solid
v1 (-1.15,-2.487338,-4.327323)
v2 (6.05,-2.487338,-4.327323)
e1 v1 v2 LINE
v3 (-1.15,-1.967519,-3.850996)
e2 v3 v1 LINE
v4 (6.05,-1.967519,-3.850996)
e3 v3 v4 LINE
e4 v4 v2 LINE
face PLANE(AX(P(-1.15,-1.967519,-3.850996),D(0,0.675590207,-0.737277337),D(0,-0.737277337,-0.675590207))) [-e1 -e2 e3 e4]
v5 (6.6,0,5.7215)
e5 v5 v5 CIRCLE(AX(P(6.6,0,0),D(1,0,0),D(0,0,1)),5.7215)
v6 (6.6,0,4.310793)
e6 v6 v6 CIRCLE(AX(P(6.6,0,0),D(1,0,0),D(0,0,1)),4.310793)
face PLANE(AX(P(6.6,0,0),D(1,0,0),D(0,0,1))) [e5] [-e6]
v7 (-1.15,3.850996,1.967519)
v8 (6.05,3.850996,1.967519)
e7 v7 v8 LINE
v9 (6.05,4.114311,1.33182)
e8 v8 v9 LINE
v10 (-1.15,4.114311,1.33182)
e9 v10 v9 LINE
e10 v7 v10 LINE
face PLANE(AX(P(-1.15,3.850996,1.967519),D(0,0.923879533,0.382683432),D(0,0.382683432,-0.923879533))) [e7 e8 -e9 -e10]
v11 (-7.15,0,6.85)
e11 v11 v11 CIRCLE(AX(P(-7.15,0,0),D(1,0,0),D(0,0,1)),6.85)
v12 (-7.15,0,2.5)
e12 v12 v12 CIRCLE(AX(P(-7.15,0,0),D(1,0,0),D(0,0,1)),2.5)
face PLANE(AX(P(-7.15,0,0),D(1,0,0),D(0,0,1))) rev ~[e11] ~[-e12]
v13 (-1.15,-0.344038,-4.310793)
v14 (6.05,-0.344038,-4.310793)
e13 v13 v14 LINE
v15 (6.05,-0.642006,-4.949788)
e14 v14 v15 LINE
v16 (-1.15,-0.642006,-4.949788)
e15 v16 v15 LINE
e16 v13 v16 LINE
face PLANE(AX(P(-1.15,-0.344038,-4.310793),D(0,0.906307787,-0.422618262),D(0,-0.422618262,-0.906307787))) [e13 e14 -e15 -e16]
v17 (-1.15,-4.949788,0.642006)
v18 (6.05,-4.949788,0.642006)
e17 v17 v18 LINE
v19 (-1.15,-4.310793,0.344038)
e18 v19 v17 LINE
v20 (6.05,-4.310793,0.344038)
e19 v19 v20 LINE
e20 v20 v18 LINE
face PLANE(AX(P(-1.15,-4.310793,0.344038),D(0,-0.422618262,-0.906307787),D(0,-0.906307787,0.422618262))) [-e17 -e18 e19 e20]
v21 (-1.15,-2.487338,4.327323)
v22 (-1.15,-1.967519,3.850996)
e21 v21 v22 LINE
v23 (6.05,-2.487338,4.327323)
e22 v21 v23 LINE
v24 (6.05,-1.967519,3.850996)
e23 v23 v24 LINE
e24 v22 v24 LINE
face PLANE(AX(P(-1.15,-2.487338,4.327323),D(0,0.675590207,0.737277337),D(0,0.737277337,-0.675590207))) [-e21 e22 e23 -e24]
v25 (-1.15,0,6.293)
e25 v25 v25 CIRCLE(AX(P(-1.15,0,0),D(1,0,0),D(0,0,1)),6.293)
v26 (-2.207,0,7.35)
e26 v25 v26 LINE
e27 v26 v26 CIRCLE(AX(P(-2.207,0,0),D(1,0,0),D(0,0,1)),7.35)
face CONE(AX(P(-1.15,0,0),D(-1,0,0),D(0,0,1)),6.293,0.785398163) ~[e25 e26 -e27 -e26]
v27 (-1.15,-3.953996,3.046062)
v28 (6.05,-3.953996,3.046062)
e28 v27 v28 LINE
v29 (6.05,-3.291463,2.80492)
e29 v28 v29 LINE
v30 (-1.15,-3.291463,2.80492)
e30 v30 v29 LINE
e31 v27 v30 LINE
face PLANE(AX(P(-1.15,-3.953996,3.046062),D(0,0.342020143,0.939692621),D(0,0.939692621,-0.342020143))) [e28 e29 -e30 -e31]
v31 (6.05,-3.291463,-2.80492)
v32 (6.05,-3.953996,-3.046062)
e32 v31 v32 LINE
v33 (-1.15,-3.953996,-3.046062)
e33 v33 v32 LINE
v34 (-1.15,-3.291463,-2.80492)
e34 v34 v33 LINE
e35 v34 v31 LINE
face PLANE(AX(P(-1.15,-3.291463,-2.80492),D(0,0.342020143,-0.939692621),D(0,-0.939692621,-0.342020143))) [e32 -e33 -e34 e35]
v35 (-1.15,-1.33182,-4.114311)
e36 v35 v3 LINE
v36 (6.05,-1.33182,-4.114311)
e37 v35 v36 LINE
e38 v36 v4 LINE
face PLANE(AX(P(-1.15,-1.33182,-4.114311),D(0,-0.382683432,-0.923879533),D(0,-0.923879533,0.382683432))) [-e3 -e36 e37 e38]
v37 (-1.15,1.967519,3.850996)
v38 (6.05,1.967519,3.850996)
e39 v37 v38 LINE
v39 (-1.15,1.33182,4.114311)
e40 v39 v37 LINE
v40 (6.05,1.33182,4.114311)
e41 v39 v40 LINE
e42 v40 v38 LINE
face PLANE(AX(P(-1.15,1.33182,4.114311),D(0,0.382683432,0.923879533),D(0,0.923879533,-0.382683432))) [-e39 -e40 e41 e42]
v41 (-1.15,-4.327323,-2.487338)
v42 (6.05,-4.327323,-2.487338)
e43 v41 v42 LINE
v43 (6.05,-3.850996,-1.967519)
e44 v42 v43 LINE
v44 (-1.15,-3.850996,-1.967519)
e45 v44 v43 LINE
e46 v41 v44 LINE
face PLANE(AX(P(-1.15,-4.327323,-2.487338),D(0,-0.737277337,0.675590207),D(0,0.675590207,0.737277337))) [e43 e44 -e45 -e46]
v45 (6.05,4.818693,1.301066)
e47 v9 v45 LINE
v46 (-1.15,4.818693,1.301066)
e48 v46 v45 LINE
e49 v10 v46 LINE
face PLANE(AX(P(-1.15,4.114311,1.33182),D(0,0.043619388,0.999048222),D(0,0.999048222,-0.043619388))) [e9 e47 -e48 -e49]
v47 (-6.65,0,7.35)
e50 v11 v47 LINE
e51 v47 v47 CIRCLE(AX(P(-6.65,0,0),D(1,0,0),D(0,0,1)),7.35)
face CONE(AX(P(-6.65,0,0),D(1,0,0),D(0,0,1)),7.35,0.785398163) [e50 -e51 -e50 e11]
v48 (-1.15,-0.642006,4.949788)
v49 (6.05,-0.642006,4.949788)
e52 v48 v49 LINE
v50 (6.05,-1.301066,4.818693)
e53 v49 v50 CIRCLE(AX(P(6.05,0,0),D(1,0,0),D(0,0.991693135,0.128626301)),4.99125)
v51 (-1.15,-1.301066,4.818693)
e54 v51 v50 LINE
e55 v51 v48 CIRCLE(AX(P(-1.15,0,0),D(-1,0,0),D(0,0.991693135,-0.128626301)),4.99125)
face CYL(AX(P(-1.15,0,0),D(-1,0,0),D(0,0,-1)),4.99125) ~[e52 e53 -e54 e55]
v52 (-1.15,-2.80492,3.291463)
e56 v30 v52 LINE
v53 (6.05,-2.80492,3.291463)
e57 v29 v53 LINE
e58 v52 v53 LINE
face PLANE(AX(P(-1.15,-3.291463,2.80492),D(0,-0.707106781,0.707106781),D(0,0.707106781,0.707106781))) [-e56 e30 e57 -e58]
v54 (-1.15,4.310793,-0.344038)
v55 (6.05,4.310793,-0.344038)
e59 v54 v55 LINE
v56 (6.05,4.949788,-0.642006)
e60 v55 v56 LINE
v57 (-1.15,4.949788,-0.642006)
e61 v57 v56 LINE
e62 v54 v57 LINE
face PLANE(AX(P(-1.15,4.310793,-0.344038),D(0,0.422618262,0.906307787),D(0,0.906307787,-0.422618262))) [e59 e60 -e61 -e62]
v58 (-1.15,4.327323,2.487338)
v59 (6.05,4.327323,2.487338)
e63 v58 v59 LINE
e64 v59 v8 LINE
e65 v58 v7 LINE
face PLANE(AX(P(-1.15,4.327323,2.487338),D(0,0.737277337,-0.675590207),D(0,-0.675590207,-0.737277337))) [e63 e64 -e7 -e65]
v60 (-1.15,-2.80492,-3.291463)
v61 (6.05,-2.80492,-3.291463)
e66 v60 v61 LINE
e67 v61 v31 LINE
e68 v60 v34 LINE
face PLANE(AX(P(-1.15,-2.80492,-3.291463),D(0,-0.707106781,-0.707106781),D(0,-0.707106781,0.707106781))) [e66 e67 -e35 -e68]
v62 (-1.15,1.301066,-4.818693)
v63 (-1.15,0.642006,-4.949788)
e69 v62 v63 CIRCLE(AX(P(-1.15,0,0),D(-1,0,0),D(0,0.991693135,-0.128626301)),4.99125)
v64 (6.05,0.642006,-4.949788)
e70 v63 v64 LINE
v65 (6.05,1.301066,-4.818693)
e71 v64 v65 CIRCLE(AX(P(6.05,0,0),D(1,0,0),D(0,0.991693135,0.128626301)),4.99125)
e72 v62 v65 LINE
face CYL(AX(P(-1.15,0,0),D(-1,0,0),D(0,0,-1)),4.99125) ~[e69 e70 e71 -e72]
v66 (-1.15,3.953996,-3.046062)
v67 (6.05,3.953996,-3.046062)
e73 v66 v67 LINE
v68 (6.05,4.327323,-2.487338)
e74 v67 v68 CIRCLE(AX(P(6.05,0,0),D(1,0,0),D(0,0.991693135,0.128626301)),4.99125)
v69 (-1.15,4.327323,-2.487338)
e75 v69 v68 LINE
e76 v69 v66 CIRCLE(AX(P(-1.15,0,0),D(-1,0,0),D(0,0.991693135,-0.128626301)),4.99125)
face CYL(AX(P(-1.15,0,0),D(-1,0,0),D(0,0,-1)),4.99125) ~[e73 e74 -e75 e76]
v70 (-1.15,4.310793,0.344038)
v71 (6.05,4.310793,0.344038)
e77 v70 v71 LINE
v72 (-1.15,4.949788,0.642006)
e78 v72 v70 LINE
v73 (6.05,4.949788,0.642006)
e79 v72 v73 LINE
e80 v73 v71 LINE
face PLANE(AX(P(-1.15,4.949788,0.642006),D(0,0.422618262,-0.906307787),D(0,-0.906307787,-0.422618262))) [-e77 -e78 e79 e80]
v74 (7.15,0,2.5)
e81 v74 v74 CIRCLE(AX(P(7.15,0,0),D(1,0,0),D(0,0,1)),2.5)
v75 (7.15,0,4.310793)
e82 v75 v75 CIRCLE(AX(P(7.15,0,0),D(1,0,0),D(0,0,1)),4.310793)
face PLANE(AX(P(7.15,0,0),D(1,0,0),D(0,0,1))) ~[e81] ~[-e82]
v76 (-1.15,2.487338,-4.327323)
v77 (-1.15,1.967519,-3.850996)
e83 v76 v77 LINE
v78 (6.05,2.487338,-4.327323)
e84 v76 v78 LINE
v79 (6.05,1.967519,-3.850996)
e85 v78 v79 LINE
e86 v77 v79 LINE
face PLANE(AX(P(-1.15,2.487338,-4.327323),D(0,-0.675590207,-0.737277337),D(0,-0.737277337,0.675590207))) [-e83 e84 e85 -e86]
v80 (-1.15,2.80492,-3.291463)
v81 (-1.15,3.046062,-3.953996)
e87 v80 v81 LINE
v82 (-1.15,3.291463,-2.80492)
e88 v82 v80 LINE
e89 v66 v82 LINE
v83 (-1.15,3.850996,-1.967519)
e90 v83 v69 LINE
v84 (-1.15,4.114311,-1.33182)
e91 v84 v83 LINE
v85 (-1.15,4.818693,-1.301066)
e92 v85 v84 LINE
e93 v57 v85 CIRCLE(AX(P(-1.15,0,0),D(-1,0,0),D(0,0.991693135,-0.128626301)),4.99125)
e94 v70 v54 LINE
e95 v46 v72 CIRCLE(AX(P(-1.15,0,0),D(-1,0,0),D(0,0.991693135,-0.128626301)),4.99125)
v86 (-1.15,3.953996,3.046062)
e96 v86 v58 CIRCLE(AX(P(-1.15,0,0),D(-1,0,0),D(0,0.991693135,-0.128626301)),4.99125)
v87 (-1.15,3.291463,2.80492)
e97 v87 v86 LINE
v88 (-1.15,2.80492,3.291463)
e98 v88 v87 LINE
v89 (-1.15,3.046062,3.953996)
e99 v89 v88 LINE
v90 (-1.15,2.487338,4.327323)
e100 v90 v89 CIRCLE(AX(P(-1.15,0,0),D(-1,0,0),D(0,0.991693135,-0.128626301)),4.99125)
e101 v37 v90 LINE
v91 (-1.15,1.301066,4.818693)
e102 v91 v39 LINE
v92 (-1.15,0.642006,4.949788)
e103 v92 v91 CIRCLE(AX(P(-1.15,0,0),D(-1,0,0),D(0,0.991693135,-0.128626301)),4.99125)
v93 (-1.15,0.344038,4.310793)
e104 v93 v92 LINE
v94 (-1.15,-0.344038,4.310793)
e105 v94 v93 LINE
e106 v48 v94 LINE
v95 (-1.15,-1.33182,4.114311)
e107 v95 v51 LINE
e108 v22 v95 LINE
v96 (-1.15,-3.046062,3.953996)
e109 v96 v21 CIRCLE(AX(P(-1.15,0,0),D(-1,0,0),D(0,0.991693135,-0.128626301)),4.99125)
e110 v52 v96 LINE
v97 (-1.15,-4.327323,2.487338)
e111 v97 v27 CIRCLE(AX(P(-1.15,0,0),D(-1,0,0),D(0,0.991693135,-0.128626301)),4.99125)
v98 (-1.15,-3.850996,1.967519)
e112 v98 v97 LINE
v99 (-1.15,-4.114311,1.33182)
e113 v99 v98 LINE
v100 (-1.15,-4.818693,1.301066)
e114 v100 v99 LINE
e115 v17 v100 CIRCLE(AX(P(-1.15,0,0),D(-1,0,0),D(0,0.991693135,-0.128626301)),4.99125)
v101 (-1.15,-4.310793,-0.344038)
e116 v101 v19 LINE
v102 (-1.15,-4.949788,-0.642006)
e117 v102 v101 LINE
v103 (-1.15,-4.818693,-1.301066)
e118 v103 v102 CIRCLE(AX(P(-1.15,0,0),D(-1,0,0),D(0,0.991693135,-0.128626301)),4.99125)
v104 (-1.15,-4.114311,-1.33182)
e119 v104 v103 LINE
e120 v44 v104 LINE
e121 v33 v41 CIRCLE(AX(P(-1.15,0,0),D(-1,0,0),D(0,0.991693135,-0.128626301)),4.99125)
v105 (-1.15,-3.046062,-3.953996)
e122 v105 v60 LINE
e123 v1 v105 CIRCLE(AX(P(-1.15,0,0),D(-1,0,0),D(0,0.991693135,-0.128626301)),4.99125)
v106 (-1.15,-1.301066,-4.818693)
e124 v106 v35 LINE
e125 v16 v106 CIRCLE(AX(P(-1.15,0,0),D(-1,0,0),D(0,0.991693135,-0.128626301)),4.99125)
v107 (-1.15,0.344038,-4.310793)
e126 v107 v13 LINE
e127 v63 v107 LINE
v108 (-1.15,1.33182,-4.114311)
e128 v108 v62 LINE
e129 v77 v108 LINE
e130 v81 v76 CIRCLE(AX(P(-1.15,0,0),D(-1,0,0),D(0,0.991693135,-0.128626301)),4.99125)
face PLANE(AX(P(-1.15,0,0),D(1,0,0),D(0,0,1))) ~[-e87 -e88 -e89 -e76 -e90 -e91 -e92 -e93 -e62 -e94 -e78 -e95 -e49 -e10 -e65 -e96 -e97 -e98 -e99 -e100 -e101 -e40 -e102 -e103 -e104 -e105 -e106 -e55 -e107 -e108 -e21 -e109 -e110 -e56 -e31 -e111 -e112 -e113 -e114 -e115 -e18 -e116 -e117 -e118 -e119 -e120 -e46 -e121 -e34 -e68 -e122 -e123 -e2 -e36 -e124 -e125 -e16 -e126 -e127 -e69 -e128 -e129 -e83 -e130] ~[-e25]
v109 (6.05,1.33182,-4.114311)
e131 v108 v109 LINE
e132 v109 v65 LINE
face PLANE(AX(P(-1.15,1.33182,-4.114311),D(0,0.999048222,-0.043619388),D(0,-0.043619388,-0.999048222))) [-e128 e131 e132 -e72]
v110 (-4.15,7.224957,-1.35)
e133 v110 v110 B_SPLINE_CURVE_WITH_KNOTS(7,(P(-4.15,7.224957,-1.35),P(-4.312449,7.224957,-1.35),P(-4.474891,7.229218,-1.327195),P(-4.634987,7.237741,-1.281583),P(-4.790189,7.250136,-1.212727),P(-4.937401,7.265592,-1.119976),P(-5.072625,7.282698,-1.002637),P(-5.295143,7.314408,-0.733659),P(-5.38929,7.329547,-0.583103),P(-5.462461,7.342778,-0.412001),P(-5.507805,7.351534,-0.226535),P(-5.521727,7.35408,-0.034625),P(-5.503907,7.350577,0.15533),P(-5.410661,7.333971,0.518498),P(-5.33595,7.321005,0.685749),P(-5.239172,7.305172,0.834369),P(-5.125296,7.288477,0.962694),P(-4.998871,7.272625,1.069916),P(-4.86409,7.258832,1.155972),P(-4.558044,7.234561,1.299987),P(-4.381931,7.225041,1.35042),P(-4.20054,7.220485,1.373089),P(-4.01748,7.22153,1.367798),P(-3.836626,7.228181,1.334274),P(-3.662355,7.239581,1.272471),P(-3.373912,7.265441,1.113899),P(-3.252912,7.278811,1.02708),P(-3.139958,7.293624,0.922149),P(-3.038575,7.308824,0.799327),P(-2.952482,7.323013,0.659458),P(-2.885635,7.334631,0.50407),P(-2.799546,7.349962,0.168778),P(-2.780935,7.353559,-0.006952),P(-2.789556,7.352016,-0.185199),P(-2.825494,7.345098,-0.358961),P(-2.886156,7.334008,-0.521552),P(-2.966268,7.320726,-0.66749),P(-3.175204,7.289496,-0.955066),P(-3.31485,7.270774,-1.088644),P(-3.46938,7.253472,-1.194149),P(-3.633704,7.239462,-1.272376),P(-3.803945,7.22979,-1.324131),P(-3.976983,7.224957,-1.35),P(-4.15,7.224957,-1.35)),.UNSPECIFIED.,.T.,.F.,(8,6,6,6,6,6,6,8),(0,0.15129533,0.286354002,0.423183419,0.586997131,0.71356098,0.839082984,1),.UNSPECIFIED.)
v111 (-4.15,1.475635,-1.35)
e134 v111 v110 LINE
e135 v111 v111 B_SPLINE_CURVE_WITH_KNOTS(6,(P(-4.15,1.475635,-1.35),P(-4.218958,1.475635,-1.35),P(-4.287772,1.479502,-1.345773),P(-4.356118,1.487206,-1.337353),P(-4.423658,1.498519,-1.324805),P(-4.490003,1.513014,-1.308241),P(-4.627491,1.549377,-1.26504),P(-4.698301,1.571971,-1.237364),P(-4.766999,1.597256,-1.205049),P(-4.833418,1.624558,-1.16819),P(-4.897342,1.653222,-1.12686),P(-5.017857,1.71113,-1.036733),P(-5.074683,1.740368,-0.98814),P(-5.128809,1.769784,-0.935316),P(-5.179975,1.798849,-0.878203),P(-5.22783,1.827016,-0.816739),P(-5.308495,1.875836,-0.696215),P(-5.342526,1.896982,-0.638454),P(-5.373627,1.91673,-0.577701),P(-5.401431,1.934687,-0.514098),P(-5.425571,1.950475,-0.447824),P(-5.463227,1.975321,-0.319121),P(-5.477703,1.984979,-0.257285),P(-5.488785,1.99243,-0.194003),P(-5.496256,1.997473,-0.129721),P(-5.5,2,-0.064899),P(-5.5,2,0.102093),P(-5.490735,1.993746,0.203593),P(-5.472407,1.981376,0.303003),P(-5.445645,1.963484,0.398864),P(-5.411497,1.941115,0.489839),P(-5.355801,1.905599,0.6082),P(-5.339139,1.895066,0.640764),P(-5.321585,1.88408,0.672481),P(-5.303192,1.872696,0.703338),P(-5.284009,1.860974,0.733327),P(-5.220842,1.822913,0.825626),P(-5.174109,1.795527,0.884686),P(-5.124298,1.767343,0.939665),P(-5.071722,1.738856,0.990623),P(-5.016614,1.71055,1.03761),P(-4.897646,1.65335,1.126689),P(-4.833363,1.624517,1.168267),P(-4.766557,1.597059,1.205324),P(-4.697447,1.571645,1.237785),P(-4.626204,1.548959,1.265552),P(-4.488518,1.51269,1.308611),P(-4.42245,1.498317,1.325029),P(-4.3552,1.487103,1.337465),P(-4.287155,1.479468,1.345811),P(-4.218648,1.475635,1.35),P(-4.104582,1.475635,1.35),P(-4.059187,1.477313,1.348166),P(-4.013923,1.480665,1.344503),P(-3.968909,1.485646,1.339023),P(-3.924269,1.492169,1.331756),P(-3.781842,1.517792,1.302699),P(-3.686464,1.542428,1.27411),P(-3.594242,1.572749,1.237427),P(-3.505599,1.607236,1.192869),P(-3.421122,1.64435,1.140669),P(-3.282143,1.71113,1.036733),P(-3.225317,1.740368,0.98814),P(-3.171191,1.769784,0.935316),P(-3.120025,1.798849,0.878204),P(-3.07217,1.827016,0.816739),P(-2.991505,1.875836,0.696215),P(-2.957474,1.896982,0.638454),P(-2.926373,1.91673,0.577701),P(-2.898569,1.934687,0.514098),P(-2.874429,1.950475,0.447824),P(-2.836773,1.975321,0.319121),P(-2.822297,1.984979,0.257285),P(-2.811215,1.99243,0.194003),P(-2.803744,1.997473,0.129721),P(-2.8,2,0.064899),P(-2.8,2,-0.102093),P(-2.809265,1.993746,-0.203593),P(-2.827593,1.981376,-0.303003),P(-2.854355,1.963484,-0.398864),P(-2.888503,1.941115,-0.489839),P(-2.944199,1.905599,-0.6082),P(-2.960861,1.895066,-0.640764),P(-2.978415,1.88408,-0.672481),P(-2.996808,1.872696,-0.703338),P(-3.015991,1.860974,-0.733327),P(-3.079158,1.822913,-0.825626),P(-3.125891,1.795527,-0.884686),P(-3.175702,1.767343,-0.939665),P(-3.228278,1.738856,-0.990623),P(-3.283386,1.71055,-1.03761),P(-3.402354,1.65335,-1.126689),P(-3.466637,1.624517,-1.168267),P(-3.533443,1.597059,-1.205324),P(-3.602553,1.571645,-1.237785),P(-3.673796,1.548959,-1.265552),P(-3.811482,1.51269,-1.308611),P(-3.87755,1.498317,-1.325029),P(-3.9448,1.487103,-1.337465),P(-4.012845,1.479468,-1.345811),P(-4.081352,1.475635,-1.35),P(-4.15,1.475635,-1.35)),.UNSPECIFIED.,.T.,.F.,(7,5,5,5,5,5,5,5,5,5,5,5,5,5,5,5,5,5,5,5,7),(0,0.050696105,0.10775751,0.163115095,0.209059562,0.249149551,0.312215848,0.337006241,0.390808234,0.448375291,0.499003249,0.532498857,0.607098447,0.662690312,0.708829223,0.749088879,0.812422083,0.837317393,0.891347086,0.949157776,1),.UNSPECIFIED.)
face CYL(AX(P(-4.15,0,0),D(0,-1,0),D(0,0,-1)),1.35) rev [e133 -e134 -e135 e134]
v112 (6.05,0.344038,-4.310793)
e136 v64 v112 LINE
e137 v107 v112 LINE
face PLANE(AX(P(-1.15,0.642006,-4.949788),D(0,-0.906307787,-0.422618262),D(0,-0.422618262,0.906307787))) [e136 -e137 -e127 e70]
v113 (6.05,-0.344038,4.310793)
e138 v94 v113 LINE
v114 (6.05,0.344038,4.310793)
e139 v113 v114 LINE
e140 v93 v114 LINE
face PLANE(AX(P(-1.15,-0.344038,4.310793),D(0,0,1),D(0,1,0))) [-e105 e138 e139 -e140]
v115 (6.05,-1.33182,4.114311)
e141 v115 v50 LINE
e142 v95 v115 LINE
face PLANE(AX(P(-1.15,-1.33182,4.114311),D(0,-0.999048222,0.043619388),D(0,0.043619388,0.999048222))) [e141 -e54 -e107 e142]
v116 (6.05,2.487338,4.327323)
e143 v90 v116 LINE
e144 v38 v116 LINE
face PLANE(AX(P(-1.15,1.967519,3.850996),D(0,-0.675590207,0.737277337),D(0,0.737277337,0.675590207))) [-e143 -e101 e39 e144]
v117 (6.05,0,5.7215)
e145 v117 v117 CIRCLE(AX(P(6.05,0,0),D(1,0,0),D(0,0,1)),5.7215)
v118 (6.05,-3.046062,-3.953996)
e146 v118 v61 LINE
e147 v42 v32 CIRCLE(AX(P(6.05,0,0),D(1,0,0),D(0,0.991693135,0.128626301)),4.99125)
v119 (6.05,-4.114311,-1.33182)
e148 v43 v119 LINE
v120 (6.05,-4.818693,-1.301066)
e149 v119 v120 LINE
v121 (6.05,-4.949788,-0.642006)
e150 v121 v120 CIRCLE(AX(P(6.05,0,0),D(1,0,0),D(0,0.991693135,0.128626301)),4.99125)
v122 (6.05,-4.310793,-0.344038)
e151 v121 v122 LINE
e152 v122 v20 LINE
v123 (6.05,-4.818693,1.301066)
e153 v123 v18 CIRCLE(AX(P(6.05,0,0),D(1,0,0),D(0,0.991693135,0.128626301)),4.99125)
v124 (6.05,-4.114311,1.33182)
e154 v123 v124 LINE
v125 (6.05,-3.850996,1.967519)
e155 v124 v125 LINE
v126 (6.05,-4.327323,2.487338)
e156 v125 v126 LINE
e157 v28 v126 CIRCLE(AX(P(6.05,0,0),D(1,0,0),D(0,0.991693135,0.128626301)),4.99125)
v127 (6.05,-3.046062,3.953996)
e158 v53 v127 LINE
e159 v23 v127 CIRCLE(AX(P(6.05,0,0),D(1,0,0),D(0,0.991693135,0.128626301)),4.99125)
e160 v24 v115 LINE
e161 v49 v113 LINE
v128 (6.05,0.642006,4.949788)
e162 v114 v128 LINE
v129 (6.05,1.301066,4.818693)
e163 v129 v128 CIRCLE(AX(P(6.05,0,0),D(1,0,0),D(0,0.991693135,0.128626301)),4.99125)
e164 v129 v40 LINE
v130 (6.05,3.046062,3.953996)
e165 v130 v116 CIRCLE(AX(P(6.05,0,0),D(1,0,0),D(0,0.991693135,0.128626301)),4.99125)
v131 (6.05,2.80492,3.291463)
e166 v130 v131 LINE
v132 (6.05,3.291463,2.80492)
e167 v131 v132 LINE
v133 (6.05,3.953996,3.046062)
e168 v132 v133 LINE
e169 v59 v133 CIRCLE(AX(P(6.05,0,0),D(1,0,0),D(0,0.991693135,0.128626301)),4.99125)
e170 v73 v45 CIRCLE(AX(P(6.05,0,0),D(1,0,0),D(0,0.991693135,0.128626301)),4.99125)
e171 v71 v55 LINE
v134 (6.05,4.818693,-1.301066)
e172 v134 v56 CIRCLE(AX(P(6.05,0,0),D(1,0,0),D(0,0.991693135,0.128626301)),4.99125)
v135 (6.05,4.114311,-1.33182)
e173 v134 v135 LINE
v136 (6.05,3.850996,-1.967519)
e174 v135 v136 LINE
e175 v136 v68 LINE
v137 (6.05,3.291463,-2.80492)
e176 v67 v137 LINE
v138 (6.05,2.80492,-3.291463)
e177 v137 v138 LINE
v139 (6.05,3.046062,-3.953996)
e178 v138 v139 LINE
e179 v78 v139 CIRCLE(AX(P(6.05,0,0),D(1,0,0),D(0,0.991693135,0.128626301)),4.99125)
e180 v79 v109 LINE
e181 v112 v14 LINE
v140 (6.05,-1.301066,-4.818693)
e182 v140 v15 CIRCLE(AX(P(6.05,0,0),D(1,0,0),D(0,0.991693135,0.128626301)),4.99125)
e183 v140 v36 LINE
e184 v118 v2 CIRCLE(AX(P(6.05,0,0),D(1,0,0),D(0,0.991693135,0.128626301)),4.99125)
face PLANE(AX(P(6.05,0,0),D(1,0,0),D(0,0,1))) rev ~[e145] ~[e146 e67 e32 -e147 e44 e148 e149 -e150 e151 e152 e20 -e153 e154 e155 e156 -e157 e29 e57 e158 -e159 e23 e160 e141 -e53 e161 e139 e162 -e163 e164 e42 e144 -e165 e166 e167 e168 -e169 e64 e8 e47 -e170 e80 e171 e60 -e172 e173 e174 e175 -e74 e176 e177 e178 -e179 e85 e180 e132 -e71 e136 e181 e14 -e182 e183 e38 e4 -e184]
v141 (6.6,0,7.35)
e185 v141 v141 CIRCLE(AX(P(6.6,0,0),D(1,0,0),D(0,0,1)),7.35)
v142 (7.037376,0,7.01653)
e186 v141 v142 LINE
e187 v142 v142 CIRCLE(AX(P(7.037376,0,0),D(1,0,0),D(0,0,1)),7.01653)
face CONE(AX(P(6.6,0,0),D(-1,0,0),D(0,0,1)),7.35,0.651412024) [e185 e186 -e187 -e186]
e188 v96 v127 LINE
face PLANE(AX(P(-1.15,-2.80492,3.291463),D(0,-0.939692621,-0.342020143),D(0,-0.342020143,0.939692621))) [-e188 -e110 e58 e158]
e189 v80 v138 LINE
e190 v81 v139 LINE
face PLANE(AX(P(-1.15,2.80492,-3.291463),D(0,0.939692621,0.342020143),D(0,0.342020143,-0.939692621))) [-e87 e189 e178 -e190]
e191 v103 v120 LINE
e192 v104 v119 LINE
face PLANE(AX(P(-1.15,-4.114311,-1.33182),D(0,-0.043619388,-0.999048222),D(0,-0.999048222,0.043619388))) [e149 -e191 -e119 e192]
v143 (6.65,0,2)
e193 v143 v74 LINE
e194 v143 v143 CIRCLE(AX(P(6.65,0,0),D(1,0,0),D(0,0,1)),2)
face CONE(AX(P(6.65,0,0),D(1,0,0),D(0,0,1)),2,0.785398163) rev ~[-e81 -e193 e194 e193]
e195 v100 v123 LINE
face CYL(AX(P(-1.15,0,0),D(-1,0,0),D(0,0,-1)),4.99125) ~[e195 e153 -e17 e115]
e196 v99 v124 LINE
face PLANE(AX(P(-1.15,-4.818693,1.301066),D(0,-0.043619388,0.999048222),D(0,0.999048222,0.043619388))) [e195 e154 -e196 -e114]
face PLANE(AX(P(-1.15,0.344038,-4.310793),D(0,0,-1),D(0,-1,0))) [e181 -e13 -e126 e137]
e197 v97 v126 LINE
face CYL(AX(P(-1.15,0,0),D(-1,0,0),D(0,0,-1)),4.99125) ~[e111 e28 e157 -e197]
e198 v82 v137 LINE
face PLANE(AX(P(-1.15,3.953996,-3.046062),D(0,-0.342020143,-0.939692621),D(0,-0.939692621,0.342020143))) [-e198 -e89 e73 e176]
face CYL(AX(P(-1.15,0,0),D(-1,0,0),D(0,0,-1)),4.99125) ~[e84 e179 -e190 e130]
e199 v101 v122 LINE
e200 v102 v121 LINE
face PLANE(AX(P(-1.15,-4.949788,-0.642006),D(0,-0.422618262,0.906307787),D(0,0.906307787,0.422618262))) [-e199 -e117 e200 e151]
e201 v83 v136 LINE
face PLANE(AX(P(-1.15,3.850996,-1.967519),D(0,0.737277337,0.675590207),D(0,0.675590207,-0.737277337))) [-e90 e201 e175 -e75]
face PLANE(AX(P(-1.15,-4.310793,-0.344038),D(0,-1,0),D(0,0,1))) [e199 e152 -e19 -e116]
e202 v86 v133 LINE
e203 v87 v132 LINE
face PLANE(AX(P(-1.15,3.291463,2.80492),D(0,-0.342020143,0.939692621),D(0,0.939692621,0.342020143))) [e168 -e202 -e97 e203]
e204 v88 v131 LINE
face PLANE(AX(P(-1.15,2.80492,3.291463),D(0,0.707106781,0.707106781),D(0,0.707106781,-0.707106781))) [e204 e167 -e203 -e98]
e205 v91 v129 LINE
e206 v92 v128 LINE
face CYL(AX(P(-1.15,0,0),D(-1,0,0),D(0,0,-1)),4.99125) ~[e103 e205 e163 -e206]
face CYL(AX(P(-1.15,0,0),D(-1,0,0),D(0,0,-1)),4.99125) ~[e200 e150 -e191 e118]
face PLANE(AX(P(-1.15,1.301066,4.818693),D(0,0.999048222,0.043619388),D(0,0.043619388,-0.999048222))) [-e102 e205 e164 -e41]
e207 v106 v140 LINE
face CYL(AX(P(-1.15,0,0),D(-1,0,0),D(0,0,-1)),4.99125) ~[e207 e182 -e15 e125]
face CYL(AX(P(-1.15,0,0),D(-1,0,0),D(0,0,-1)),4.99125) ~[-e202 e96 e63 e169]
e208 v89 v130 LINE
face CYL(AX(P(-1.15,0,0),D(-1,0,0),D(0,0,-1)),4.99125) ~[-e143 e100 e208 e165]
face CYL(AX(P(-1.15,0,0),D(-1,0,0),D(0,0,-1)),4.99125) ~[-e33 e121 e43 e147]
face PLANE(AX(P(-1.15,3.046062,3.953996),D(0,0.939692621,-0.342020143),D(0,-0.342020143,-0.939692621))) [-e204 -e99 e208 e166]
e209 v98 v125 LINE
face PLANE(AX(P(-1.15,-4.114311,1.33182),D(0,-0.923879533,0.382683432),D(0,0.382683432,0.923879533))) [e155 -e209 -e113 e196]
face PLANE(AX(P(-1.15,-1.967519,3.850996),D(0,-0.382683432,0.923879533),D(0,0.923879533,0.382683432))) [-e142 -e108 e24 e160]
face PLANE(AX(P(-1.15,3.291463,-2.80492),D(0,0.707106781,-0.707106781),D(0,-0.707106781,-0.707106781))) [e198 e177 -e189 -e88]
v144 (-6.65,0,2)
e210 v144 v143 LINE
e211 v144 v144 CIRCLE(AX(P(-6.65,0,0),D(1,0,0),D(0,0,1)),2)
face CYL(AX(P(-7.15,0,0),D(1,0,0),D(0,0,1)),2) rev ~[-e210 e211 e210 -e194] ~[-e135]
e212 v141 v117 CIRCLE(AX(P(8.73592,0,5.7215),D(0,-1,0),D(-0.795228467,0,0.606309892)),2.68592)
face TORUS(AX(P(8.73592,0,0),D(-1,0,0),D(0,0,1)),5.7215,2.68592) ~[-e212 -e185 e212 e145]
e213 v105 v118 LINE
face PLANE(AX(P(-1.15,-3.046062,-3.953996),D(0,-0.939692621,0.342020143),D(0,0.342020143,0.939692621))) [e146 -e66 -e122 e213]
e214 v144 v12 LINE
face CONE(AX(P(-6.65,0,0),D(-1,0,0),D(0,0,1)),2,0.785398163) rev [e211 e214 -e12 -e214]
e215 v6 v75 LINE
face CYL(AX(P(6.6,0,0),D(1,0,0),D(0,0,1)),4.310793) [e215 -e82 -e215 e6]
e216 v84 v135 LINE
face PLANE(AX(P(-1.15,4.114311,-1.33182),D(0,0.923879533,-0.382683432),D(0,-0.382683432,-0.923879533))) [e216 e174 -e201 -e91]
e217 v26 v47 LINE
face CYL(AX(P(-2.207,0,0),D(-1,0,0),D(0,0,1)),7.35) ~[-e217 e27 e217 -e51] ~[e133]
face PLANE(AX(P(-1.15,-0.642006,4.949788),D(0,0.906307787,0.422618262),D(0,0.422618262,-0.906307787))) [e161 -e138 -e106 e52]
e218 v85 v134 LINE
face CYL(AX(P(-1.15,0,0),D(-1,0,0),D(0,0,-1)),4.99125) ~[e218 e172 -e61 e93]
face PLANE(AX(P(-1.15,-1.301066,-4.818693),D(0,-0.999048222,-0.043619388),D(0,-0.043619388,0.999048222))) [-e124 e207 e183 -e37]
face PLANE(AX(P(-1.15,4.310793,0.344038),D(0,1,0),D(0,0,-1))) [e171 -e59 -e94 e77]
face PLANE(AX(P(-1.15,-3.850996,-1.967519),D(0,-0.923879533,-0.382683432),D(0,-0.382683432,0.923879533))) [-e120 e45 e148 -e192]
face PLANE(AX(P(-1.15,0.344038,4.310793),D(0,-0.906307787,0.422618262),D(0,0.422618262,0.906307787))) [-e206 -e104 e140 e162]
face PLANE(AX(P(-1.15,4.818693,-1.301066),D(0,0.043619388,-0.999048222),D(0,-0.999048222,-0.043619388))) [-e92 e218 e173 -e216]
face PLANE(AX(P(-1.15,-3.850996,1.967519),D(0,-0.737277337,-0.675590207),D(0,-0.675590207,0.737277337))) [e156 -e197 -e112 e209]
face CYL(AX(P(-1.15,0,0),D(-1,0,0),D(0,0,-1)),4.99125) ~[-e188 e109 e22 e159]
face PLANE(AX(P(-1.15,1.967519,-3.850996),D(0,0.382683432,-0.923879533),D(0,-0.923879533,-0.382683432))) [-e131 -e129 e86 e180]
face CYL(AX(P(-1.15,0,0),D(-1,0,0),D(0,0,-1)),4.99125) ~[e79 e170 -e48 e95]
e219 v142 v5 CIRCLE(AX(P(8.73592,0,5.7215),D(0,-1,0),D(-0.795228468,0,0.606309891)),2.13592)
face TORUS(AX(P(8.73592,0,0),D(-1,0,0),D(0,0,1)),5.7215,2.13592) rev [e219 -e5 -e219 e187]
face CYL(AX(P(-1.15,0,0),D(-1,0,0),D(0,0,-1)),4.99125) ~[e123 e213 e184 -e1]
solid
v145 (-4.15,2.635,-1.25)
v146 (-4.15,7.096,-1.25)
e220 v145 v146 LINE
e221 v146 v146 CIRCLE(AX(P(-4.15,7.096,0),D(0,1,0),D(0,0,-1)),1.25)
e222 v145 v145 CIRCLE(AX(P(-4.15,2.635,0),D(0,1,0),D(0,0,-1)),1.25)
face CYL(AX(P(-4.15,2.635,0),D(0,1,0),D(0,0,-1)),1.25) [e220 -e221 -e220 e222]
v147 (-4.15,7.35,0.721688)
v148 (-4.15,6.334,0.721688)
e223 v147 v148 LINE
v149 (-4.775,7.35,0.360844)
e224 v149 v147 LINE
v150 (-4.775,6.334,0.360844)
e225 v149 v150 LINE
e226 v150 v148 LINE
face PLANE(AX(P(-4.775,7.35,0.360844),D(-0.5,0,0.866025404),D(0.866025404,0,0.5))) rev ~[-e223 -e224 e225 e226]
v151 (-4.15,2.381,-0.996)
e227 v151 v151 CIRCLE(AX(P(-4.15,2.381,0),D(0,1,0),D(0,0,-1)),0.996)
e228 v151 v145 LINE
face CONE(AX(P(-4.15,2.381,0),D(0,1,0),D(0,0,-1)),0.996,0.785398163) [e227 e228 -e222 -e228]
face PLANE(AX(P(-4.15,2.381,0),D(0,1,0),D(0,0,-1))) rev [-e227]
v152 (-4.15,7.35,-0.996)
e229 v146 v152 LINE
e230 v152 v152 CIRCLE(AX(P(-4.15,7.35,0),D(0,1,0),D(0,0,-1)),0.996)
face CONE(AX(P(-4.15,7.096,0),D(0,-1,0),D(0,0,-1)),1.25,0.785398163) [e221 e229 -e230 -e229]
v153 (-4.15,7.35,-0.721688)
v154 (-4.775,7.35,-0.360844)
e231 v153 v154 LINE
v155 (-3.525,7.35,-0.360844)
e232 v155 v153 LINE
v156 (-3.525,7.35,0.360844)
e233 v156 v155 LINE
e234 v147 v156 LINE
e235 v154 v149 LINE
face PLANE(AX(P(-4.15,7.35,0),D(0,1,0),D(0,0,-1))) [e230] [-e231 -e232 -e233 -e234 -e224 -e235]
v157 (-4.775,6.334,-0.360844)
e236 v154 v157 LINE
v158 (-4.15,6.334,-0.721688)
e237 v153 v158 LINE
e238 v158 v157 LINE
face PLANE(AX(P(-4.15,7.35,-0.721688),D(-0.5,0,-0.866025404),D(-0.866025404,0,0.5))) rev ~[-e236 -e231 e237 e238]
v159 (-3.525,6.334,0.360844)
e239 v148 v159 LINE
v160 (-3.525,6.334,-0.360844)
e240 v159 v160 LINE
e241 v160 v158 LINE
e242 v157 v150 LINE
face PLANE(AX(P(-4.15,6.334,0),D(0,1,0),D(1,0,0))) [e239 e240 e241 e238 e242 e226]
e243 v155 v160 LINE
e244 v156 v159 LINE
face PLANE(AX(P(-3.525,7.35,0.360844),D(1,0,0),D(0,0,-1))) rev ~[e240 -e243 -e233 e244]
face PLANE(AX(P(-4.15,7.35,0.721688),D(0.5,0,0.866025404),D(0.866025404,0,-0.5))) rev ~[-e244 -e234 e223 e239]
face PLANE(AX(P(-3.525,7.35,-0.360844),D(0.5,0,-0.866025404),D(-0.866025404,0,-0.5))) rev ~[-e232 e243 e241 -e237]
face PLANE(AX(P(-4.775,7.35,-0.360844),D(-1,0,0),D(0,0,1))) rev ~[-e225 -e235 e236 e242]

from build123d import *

# Parameters (mm, degrees)
SKETCH4_R          = 5.15
SKETCH4_R_2        = 4.99125
CUT_EXTRUDE2_DEPTH = 7.2
CUT_EXTRUDE1_DEPTH = 7.2
CIRPATTERN1_COUNT  = 16
SKETCH6_R          = 1.35
CUT_EXTRUDE3_DEPTH = 13.616160272
CUT_EXTRUDE4_DEPTH = 1.016
CHAMFER1_SIZE      = 0.5


with BuildPart() as part:
    # Sketch1 → Revolve1 (revolve)
    with BuildSketch(Plane.XY, mode=Mode.PRIVATE) as revolve1_sk:
        with BuildLine():
            Line((-7.15, 2), (7.15, 2))
            Line((7.15, 2), (7.15, 7.35))
            Line((7.15, 7.35), (6.6, 7.35))
            ThreePointArc((6.6, 7.35), (6.191212109, 6.580934734), (6.05, 5.7215))
            Line((6.05, 5.7215), (6.05, 5.15))
            Line((6.05, 5.15), (-1.15, 5.15))
            Line((-1.15, 5.15), (-1.15, 6.293))
            Line((-1.15, 6.293), (-2.207, 7.35))
            Line((-2.207, 7.35), (-7.15, 7.35))
            Line((-7.15, 7.35), (-7.15, 2))
        make_face()
    revolve(revolve1_sk.sketch.rotate(Axis((-7.15, 0, 0), (1, 0, 0)), 90), axis=Axis((-7.15, 0, 0), (1, 0, 0)))

    # Sketch4 → Cut-Extrude2 (cut)
    with BuildSketch(Plane(origin=(-1.15, 0, 0), x_dir=(0, 0, -1), z_dir=(1, 0, 0))):
        Circle(SKETCH4_R)
        Circle(SKETCH4_R_2, mode=Mode.SUBTRACT)
    extrude(amount=CUT_EXTRUDE2_DEPTH, mode=Mode.SUBTRACT)

    # Sketch3 → Cut-Extrude1 (cut)
    with BuildSketch(Plane(origin=(-1.15, 0, 0), x_dir=(0, 0, -1), z_dir=(1, 0, 0))):
        with BuildLine():
            Line((-0.642006023, 4.949788362), (-0.344037701, 4.310793234))
            Line((-0.344037701, 4.310793234), (0.344037701, 4.310793234))
            Line((0.344037701, 4.310793234), (0.642006023, 4.949788362))
            ThreePointArc((0.642006023, 4.949788362), (0, 4.99125), (-0.642006023, 4.949788362))
        make_face()
    cut_extrude1 = extrude(amount=CUT_EXTRUDE1_DEPTH, mode=Mode.SUBTRACT)

    # CirPattern1: Cut-Extrude1 ×16 about axis
    cirpattern1_axis = Axis((0, 0, 0), (1, 0, 0))
    for i in range(1, CIRPATTERN1_COUNT):
        add(cut_extrude1.rotate(cirpattern1_axis, i * 360 / CIRPATTERN1_COUNT), mode=Mode.SUBTRACT)

    # Sketch6 → Cut-Extrude3 (cut, through all)
    with BuildSketch(Plane(origin=(0, 0, 0), x_dir=(1, 0, 0), z_dir=(0, 1, 0))):
        with Locations(Location((-4.15, 0, 0), (0, 0, 90))):
            Circle(SKETCH6_R)
    extrude(amount=CUT_EXTRUDE3_DEPTH, mode=Mode.SUBTRACT)

    # Chamfer1
    chamfer1_edges = [part.edges().sort_by_distance(p)[0] for p in [
        (-7.15, 0, -7.35),
        (-7.15, 0, -2),
        (7.15, 0, -2),
    ]]
    chamfer(chamfer1_edges, length=CHAMFER1_SIZE)

    # Sketch9 → Cut-Revolve1 (revolve, cut)
    with BuildSketch(Plane.XY, mode=Mode.PRIVATE) as cut_revolve1_sk:
        with BuildLine():
            Line((7.15, 4.310793234), (7.15, 7.35))
            Line((7.15, 7.35), (6.802186426, 7.615185187))
            Line((6.802186426, 7.615185187), (6.6, 7.35))
            Line((6.6, 7.35), (7.037375657, 7.01652956))
            ThreePointArc((7.037375657, 7.01652956), (6.712295889, 6.404946967), (6.6, 5.7215))
            Line((6.6, 5.7215), (6.6, 4.310793234))
            Line((6.6, 4.310793234), (7.15, 4.310793234))
        make_face()
    revolve(cut_revolve1_sk.sketch.rotate(Axis((-7.15, 0, 0), (1, 0, 0)), 90), axis=Axis((-7.15, 0, 0), (1, 0, 0)), mode=Mode.SUBTRACT)


with BuildPart() as body_2:
    # Sketch7 → Revolve2 (revolve)
    with BuildSketch(Plane.XY, mode=Mode.PRIVATE) as revolve2_sk:
        Polygon((-5.146, 7.35), (-4.15, 7.35), (-4.15, 2.381), (-5.146, 2.381), (-5.4, 2.635), (-5.4, 7.096), align=None)
    revolve(revolve2_sk.sketch.rotate(Axis((-4.15, 2.381, 0), (0, 1, 0)), 270), axis=Axis((-4.15, 2.381, 0), (0, 1, 0)))

    # Sketch8 → Cut-Extrude4 (cut)
    with BuildSketch(Plane(origin=(0, 7.35, 0), x_dir=(1, 0, 0), z_dir=(0, 1, 0))):
        Polygon((-4.15, 0.721687836), (-4.775, 0.360843918), (-4.775, -0.360843918), (-4.15, -0.721687836), (-3.525, -0.360843918), (-3.525, 0.360843918), align=None)
    extrude(amount=-CUT_EXTRUDE4_DEPTH, mode=Mode.SUBTRACT)


solid = Compound([part.part, body_2.part])
